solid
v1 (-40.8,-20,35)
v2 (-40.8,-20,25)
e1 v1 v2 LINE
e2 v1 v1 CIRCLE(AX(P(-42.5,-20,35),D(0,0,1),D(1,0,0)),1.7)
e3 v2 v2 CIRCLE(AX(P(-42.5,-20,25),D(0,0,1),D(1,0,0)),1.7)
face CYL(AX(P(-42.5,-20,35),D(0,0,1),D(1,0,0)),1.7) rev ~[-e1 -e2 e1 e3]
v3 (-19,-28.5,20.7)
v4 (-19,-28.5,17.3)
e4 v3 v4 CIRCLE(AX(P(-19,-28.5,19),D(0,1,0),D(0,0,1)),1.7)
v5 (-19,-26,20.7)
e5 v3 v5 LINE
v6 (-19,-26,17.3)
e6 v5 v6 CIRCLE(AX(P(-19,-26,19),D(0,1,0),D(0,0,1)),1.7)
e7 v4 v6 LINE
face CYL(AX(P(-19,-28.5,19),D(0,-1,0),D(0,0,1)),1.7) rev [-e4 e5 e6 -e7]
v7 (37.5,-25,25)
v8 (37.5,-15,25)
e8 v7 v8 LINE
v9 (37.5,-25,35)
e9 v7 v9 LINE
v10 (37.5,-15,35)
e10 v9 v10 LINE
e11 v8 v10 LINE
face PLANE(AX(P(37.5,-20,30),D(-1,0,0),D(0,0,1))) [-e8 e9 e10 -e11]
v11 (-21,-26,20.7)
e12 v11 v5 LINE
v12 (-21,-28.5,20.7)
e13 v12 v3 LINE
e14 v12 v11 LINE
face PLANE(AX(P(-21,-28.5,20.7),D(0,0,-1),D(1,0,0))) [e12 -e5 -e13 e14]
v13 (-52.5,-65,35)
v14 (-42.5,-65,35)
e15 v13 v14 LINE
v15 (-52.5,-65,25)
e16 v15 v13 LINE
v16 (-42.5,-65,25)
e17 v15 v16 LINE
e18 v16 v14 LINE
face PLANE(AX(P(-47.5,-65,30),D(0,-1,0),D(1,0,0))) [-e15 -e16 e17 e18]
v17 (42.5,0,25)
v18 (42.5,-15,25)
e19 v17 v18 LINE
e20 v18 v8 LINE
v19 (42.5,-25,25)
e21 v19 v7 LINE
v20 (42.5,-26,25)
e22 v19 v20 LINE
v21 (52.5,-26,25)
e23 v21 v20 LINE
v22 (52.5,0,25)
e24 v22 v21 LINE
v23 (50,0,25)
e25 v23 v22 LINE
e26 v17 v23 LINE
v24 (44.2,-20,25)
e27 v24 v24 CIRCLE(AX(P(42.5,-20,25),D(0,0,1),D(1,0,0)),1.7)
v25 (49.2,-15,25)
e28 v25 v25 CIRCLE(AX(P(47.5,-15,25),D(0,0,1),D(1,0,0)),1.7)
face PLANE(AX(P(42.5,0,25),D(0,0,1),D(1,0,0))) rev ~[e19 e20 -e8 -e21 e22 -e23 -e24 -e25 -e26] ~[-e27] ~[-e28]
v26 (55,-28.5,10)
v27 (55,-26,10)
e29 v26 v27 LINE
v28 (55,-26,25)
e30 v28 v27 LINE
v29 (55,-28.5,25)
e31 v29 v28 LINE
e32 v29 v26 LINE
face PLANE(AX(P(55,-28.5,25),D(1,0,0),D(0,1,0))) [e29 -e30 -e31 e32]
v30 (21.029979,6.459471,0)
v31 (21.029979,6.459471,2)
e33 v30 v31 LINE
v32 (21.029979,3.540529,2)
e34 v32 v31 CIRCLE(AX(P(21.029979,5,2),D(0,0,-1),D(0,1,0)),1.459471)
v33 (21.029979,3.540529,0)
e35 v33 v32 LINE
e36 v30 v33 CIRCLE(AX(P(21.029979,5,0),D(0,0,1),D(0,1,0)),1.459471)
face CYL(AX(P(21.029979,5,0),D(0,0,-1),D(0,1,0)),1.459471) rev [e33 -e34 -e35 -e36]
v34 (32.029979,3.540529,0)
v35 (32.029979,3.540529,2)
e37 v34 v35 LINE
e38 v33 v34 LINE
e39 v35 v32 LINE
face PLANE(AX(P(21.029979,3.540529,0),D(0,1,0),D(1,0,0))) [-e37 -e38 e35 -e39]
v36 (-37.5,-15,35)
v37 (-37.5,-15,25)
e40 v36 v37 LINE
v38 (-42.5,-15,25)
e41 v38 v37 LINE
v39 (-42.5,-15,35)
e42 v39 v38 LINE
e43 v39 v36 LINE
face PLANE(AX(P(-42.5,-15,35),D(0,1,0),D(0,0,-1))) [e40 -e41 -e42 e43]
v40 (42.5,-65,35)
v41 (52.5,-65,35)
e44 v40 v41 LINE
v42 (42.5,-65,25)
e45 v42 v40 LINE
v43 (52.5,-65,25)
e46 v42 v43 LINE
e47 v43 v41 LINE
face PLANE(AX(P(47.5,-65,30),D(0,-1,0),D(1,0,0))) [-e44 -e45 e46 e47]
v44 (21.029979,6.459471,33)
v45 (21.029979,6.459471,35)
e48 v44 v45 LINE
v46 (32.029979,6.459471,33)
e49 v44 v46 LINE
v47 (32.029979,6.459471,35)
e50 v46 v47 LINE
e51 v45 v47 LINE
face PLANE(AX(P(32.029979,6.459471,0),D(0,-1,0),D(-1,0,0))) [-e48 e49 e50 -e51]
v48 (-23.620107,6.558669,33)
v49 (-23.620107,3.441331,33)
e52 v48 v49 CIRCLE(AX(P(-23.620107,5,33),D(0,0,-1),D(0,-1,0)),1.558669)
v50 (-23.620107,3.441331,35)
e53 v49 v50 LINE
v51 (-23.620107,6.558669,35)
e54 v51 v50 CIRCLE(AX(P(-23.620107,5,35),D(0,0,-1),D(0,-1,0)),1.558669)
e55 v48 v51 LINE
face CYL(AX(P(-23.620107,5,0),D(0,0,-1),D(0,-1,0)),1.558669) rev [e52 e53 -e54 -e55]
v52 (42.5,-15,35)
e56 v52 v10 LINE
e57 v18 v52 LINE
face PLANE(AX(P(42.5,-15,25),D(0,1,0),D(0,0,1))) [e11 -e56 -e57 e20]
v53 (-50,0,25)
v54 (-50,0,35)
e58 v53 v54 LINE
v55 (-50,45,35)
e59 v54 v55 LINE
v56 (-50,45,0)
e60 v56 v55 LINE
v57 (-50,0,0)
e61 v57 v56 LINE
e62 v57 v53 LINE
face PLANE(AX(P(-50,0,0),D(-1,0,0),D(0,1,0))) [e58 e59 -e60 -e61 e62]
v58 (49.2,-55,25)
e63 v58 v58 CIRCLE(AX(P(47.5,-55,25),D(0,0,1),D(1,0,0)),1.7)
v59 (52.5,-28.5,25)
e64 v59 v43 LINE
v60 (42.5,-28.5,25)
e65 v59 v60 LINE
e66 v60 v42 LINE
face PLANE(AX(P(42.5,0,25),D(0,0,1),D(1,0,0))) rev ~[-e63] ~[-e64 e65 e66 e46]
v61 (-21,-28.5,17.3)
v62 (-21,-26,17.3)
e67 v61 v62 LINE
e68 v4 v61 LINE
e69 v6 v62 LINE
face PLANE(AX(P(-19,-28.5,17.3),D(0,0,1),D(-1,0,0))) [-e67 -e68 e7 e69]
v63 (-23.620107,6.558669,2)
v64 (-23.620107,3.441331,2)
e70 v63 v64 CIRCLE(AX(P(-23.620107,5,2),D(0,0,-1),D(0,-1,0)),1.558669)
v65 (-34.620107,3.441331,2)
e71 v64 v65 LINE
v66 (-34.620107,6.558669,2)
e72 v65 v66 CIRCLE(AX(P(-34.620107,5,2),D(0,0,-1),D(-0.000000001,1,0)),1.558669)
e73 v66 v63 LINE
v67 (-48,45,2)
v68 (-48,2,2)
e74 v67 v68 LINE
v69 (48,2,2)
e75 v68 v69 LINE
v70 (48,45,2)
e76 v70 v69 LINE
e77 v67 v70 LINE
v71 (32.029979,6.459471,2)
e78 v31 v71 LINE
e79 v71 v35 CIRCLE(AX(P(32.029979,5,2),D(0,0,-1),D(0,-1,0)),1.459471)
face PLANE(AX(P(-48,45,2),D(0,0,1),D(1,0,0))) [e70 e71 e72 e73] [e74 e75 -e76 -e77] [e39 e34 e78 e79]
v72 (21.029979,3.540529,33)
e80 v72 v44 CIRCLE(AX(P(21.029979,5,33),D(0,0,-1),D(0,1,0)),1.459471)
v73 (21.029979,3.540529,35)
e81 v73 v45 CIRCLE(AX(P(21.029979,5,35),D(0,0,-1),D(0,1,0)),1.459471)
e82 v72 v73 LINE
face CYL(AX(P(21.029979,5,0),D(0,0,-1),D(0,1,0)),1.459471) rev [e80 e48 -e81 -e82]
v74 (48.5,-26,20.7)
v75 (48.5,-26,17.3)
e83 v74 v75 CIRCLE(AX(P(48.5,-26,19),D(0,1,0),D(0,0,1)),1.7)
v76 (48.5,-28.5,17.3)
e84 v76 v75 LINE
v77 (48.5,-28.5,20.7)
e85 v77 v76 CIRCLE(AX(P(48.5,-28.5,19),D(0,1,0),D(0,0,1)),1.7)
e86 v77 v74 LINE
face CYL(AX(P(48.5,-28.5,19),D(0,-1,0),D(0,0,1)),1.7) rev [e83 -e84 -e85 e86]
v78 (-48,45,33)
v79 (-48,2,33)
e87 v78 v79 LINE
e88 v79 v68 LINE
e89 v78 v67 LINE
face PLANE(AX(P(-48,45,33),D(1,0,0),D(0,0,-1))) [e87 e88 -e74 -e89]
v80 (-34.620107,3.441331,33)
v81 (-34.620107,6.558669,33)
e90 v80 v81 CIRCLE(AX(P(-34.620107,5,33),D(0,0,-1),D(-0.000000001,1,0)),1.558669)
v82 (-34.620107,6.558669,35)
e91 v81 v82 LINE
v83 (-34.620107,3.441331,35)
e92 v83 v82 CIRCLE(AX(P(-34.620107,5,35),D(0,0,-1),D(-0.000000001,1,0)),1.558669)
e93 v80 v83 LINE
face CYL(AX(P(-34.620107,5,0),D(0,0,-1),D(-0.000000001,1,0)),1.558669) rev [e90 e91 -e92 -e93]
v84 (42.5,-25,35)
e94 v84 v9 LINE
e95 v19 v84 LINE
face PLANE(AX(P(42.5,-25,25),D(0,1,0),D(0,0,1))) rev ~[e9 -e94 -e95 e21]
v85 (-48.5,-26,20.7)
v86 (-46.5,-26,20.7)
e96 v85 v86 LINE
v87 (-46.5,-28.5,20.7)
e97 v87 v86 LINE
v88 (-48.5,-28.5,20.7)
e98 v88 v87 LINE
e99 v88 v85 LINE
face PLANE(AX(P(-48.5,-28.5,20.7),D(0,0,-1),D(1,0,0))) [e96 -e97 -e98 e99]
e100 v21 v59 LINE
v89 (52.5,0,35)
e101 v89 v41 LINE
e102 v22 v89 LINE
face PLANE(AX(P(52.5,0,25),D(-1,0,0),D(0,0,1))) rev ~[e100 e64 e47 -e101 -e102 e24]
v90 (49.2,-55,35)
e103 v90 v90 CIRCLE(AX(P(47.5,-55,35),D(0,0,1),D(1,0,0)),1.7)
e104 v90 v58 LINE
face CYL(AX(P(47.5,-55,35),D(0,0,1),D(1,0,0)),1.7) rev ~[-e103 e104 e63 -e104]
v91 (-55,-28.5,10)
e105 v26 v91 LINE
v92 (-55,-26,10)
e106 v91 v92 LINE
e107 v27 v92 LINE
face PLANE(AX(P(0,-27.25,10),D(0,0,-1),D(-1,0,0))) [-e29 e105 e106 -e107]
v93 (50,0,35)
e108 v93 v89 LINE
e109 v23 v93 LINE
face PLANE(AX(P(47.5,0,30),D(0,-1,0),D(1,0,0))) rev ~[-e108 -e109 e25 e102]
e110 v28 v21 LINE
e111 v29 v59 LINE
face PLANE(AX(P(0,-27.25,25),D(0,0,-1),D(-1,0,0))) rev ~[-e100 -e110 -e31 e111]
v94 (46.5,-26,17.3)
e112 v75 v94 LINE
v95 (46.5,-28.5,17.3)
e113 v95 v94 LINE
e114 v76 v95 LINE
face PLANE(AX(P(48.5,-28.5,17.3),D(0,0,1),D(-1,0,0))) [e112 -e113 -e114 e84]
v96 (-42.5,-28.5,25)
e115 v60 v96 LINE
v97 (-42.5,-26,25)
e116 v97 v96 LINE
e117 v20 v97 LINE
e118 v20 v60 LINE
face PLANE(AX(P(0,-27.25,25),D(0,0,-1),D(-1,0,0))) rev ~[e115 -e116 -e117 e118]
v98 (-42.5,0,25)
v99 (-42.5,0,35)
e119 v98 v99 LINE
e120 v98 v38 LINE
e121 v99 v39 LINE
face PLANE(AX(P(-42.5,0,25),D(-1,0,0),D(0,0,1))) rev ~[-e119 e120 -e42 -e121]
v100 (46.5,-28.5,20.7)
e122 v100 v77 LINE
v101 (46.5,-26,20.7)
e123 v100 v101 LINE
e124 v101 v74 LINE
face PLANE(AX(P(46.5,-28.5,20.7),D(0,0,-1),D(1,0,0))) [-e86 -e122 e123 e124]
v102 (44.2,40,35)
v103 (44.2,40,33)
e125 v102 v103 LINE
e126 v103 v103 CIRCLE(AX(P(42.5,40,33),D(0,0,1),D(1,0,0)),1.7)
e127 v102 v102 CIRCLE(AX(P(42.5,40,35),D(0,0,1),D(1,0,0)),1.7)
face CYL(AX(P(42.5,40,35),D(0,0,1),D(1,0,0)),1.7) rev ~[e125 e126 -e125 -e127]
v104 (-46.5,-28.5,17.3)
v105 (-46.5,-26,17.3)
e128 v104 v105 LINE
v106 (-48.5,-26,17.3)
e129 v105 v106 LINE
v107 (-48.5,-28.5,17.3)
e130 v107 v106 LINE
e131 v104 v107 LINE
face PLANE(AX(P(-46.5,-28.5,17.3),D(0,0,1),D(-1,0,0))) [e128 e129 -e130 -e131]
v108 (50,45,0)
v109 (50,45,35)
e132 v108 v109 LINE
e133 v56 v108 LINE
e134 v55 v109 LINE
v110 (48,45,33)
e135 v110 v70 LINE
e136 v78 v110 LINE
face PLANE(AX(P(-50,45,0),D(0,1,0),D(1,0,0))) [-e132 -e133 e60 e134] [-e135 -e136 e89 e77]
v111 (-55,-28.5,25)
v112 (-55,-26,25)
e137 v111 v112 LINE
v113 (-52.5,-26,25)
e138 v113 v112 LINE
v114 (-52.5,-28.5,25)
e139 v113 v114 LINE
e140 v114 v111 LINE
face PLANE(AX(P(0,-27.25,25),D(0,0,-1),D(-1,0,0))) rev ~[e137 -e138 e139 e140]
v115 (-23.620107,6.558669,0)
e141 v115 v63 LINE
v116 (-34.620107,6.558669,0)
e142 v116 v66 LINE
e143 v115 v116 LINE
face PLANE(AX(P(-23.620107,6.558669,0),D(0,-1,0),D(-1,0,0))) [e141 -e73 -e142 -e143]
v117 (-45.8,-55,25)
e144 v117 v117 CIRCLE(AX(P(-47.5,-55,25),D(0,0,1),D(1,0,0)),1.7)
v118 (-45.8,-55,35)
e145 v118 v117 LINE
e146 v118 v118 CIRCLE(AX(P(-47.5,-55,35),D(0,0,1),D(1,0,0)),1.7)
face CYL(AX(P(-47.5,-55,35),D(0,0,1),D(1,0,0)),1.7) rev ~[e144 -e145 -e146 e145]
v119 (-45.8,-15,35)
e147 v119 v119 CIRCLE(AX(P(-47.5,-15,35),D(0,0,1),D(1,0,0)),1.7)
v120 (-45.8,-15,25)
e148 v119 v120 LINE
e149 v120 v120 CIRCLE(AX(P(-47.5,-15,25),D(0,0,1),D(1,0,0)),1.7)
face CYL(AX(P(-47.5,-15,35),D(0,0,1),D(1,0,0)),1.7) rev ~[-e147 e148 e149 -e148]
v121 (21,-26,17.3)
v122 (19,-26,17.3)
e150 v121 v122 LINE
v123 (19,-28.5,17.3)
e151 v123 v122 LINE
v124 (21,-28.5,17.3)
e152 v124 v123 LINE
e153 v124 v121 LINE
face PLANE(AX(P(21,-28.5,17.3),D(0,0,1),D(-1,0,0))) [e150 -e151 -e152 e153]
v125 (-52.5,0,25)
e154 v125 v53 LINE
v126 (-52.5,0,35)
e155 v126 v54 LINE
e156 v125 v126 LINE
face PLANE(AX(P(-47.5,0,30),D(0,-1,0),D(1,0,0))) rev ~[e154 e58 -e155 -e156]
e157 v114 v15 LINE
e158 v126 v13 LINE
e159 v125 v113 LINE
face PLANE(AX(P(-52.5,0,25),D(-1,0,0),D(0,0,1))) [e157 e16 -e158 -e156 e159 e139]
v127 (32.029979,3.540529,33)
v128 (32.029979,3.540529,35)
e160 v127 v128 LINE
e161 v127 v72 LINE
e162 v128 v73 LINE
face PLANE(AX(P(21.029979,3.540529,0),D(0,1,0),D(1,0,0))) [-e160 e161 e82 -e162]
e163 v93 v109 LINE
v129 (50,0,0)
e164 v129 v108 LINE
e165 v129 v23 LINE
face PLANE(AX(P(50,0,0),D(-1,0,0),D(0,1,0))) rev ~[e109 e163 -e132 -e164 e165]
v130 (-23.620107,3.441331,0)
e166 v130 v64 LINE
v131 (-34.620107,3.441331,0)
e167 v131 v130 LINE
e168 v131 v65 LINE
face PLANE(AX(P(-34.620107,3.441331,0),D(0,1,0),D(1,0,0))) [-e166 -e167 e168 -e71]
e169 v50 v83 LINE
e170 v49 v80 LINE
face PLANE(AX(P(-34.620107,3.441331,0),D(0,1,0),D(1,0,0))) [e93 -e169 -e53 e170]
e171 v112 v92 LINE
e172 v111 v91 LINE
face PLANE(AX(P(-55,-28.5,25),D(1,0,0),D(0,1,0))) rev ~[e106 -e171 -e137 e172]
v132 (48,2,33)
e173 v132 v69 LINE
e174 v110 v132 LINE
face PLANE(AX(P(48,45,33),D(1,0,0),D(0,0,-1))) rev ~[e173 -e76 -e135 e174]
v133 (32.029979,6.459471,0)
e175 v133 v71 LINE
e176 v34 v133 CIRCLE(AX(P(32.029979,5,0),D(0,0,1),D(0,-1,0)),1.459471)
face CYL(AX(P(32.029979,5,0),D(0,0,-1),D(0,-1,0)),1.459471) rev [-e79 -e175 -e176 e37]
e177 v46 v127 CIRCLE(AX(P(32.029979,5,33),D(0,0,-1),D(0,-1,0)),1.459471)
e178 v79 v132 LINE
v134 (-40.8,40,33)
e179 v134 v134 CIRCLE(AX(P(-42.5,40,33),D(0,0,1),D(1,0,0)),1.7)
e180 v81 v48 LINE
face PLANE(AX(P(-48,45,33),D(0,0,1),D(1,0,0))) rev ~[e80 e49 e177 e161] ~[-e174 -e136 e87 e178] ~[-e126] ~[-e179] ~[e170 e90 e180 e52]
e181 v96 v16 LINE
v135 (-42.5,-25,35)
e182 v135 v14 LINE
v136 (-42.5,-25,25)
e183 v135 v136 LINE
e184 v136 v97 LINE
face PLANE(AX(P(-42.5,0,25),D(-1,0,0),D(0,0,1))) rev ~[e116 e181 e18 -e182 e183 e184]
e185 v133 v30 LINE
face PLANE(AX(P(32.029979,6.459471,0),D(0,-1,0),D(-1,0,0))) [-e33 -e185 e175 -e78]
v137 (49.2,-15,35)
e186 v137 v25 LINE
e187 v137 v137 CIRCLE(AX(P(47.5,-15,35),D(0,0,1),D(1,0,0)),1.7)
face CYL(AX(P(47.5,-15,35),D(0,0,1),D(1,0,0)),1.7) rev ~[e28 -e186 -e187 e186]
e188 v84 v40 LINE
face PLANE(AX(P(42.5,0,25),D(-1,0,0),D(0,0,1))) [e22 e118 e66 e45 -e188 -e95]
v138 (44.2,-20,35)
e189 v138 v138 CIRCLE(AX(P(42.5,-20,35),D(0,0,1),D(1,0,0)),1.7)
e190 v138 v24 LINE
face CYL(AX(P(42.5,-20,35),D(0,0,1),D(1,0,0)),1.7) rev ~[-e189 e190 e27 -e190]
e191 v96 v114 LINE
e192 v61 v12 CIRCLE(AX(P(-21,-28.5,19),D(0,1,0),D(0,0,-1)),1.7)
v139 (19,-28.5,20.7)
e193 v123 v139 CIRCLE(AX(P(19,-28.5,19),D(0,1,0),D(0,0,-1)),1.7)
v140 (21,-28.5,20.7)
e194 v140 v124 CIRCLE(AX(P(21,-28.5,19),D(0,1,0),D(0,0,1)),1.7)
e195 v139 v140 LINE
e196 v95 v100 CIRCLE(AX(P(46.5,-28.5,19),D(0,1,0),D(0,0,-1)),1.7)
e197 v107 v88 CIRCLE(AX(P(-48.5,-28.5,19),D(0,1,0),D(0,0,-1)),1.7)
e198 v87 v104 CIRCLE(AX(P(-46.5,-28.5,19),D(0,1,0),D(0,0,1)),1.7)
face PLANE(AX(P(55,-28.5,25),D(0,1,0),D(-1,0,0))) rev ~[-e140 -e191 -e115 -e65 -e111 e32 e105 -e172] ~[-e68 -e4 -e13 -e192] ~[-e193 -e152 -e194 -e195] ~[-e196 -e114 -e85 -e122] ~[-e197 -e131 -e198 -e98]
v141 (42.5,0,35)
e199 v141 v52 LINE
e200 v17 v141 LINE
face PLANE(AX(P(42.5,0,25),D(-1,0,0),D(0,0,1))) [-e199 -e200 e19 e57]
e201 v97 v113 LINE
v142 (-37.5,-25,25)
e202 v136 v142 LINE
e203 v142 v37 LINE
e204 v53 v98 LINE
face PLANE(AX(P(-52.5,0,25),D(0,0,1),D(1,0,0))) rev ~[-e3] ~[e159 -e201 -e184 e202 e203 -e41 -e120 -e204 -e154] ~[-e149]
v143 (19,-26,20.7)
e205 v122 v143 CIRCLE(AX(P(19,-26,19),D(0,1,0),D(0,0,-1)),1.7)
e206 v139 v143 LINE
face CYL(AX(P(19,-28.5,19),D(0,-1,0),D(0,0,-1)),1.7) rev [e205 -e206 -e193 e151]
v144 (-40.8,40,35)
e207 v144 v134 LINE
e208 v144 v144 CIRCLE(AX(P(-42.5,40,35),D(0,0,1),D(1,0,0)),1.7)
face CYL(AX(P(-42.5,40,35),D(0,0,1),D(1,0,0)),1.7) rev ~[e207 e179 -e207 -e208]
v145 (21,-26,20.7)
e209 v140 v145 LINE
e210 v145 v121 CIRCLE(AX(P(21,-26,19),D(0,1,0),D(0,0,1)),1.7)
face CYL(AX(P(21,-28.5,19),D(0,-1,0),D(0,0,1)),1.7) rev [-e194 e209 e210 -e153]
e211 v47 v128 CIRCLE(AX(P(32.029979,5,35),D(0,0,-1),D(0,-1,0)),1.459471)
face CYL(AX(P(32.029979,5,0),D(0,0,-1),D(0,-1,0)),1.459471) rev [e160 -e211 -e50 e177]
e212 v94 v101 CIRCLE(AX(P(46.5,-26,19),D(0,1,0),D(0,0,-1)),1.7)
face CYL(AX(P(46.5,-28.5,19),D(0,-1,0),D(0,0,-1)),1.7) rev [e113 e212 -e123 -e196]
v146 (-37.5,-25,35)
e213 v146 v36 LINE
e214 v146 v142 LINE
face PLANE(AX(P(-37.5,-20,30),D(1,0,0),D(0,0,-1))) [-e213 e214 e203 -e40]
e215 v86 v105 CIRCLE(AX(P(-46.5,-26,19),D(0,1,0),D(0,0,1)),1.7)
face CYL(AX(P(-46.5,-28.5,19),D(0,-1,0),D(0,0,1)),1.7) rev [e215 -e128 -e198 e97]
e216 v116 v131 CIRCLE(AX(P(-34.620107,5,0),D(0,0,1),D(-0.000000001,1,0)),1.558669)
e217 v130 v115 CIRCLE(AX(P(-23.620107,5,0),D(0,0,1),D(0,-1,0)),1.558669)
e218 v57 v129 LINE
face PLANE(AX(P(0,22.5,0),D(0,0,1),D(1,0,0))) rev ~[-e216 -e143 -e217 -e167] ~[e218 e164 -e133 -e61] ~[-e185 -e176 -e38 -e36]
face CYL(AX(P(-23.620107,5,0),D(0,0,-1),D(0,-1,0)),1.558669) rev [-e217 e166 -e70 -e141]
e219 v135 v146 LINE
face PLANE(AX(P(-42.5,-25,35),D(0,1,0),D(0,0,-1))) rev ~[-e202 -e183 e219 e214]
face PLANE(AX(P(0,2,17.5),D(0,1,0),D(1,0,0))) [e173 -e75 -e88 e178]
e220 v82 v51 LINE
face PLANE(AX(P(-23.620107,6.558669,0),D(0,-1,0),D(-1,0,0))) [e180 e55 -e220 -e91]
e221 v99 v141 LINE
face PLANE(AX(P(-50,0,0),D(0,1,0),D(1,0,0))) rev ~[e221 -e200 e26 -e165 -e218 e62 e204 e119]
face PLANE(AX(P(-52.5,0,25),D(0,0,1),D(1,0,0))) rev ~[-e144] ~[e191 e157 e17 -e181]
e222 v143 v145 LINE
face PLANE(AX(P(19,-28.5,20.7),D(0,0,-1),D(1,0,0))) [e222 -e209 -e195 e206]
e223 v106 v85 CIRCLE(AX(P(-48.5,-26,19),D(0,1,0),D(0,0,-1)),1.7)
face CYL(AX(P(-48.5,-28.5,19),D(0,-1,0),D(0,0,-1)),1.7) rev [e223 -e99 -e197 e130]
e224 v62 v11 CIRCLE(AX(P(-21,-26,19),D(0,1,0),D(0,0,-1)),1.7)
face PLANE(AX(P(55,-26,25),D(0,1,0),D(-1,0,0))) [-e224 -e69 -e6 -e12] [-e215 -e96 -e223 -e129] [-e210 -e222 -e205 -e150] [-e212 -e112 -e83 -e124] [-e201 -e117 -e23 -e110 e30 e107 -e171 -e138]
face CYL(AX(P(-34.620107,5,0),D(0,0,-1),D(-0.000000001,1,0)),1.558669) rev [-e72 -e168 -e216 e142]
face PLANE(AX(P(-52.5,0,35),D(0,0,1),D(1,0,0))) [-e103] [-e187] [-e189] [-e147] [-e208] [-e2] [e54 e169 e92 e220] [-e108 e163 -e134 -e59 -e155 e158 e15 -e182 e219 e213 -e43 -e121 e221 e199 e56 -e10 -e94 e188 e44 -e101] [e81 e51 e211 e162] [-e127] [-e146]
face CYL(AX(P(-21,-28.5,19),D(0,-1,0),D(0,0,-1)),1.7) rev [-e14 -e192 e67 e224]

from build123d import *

# Parameters (mm, degrees)
V3_BOX_FOOTPRINT_100_X_45_MM_W                 = 100
V3_BOX_FOOTPRINT_100_X_45_MM_H                 = 45
V3_BOX_HEIGHT_35_MM_DEPTH                      = 35
V3_REAR_OPENING_96_X_31_MM_W                   = 96
V3_REAR_OPENING_96_X_31_MM_H                   = 31
V3_CAVITY_ALL_WALLS_2_MM_DEPTH                 = 43
V3_SQUARE_BEAMS_10_X_10_PITCH_95_MM_W          = 10
V3_SQUARE_BEAMS_10_X_10_PITCH_95_MM_H          = 10
V3_FORWARD_BEAM_LENGTH_65_MM_DEPTH             = 65
V3_LEFT_PCB_EAR_PROFILE_W                      = 10
V3_LEFT_PCB_EAR_PROFILE_H                      = 10
V3_LEFT_INWARD_EAR_5_MM_DEPTH                  = 5
V3_RIGHT_PCB_EAR_PROFILE_W                     = 10
V3_RIGHT_PCB_EAR_PROFILE_H                     = 10
V3_RIGHT_INWARD_EAR_5_MM_DEPTH                 = 5
V3_PCB_ROOF_PAIR_PITCH_85_MM_R                 = 1.7
V3_M3_ROOF_HOLES_DIAMETER_3_4_MM_DEPTH         = 2
V3_PCB_FORWARD_PAIR_ROW_SPACING_60_MM_R        = 1.7
V3_M3_PCB_EAR_HOLES_DEPTH                      = 10
V3_CHASSIS_TOP_HOLES_WIDTH_95_DEPTH_40_M_R     = 1.7
V3_M3_BEAM_TOP_BOTTOM_HOLES_DEPTH              = 10
V3_HANGING_PLATE_OFFSET_26_THICKNESS_2_5_W     = 110
V3_HANGING_PLATE_OFFSET_26_THICKNESS_2_5_H     = 2.5
V3_MOUNTING_PLATE_DOWNWARD_15_MM_WIDTH_1_DEPTH = 15
FOUR_HORIZONTAL_SLOTS_3_4_X_5_4_MM_DEPTH       = 2.5
CUT_EXTRUDE_1_DEPTH                            = 93.059763198


with BuildPart() as part:
    # V3 box footprint 100 x 45 mm → V3 box height 35 mm (new body)
    with BuildSketch(Plane.XY):
        with Locations((0, 22.5)):
            Rectangle(V3_BOX_FOOTPRINT_100_X_45_MM_W, V3_BOX_FOOTPRINT_100_X_45_MM_H)
    extrude(amount=V3_BOX_HEIGHT_35_MM_DEPTH)

    # V3 rear opening 96 x 31 mm → V3 cavity all walls 2 mm (cut)
    with BuildSketch(Plane(origin=(0, 45, 0), x_dir=(1, 0, 0), z_dir=(0, 1, 0))):
        with Locations((0, -17.5)):
            Rectangle(V3_REAR_OPENING_96_X_31_MM_W, V3_REAR_OPENING_96_X_31_MM_H)
    extrude(amount=-V3_CAVITY_ALL_WALLS_2_MM_DEPTH, mode=Mode.SUBTRACT)

    # V3 square beams 10 x 10 pitch 95 mm → V3 forward beam length 65 mm (add)
    with BuildSketch(Plane.XZ):
        with Locations((-47.5, 30)):
            Rectangle(V3_SQUARE_BEAMS_10_X_10_PITCH_95_MM_W, V3_SQUARE_BEAMS_10_X_10_PITCH_95_MM_H)
        with Locations((47.5, 30)):
            Rectangle(V3_SQUARE_BEAMS_10_X_10_PITCH_95_MM_W, V3_SQUARE_BEAMS_10_X_10_PITCH_95_MM_H)
    extrude(amount=V3_FORWARD_BEAM_LENGTH_65_MM_DEPTH)

    # V3 left PCB ear profile → V3 left inward ear 5 mm (add)
    with BuildSketch(Plane(origin=(-42.5, 0, 0), x_dir=(0, 0, -1), z_dir=(1, 0, 0))):
        with Locations((-30, -20)):
            Rectangle(V3_LEFT_PCB_EAR_PROFILE_W, V3_LEFT_PCB_EAR_PROFILE_H)
    extrude(amount=V3_LEFT_INWARD_EAR_5_MM_DEPTH)

    # V3 right PCB ear profile → V3 right inward ear 5 mm (add)
    with BuildSketch(Plane.ZY.offset(-42.5)):
        with Locations((30, -20)):
            Rectangle(V3_RIGHT_PCB_EAR_PROFILE_W, V3_RIGHT_PCB_EAR_PROFILE_H)
    extrude(amount=V3_RIGHT_INWARD_EAR_5_MM_DEPTH)

    # V3 PCB roof pair pitch 85 mm → V3 M3 roof holes diameter 3.4 mm (cut)
    with BuildSketch(Plane.XY.offset(35)):
        with Locations((-42.5, 40)):
            Circle(V3_PCB_ROOF_PAIR_PITCH_85_MM_R)
        with Locations((42.5, 40)):
            Circle(V3_PCB_ROOF_PAIR_PITCH_85_MM_R)
    extrude(amount=-V3_M3_ROOF_HOLES_DIAMETER_3_4_MM_DEPTH, mode=Mode.SUBTRACT)

    # V3 PCB forward pair row spacing 60 mm → V3 M3 PCB ear holes (cut)
    with BuildSketch(Plane.XY.offset(35)):
        with Locations((-42.5, -20)):
            Circle(V3_PCB_FORWARD_PAIR_ROW_SPACING_60_MM_R)
        with Locations((42.5, -20)):
            Circle(V3_PCB_FORWARD_PAIR_ROW_SPACING_60_MM_R)
    extrude(amount=-V3_M3_PCB_EAR_HOLES_DEPTH, mode=Mode.SUBTRACT)

    # V3 chassis top holes width 95 depth 40 mm → V3 M3 beam top bottom holes (cut)
    with BuildSketch(Plane.XY.offset(35)):
        with Locations((-47.5, -55)):
            Circle(V3_CHASSIS_TOP_HOLES_WIDTH_95_DEPTH_40_M_R)
        with Locations((-47.5, -15)):
            Circle(V3_CHASSIS_TOP_HOLES_WIDTH_95_DEPTH_40_M_R)
        with Locations((47.5, -55)):
            Circle(V3_CHASSIS_TOP_HOLES_WIDTH_95_DEPTH_40_M_R)
        with Locations((47.5, -15)):
            Circle(V3_CHASSIS_TOP_HOLES_WIDTH_95_DEPTH_40_M_R)
    extrude(amount=-V3_M3_BEAM_TOP_BOTTOM_HOLES_DEPTH, mode=Mode.SUBTRACT)

    # V3 hanging plate offset 26 thickness 2.5 mm → V3 mounting plate downward 15 mm width 110 (add)
    with BuildSketch(Plane(origin=(0, 0, 25), x_dir=(-1, 0, 0), z_dir=(0, 0, -1))):
        with Locations((0, -27.25)):
            Rectangle(V3_HANGING_PLATE_OFFSET_26_THICKNESS_2_5_W, V3_HANGING_PLATE_OFFSET_26_THICKNESS_2_5_H)
    extrude(amount=V3_MOUNTING_PLATE_DOWNWARD_15_MM_WIDTH_1_DEPTH)

    # V3 slots 6 mm below beam underside centers 20 and 47.5 → Four horizontal slots 3.4 x 5.4 mm (cut)
    with BuildSketch(Plane.XZ.offset(28.5)):
        with BuildLine():
            Line((-48.5, 20.7), (-46.5, 20.7))
            ThreePointArc((-46.5, 20.7), (-44.8, 19), (-46.5, 17.3))
            Line((-46.5, 17.3), (-48.5, 17.3))
            ThreePointArc((-48.5, 17.3), (-50.2, 19), (-48.5, 20.7))
        make_face()
        with BuildLine():
            Line((-21, 20.7), (-19, 20.7))
            ThreePointArc((-19, 20.7), (-17.3, 19), (-19, 17.3))
            Line((-19, 17.3), (-21, 17.3))
            ThreePointArc((-21, 17.3), (-22.7, 19), (-21, 20.7))
        make_face()
        with BuildLine():
            Line((19, 20.7), (21, 20.7))
            ThreePointArc((21, 20.7), (22.7, 19), (21, 17.3))
            Line((21, 17.3), (19, 17.3))
            ThreePointArc((19, 17.3), (17.3, 19), (19, 20.7))
        make_face()
        with BuildLine():
            Line((46.5, 20.7), (48.5, 20.7))
            ThreePointArc((48.5, 20.7), (50.2, 19), (48.5, 17.3))
            Line((48.5, 17.3), (46.5, 17.3))
            ThreePointArc((46.5, 17.3), (44.8, 19), (46.5, 20.7))
        make_face()
    extrude(amount=-FOUR_HORIZONTAL_SLOTS_3_4_X_5_4_MM_DEPTH, mode=Mode.SUBTRACT)

    # 草图2 → 切除-拉伸1 (cut, through all)
    with BuildSketch(Plane(origin=(0, 0, 0), x_dir=(-1, 0, 0), z_dir=(0, 0, -1))):
        with BuildLine():
            Line((-32.029979042, 6.459471041), (-21.029979042, 6.459471041))
            ThreePointArc((-21.029979042, 6.459471041), (-19.570508001, 5), (-21.029979042, 3.540528959))
            Line((-21.029979042, 3.540528959), (-32.029979042, 3.540528959))
            ThreePointArc((-32.029979042, 3.540528959), (-33.489450083, 5), (-32.029979042, 6.459471041))
        make_face()
        with BuildLine():
            Line((23.620107008, 6.558669056), (34.620107008, 6.558669056))
            ThreePointArc((34.620107008, 6.558669056), (36.178776063, 5), (34.620107008, 3.441330944))
            Line((34.620107008, 3.441330944), (23.620107008, 3.441330944))
            ThreePointArc((23.620107008, 3.441330944), (22.061437952, 5), (23.620107008, 6.558669056))
        make_face()
    extrude(amount=-CUT_EXTRUDE_1_DEPTH, mode=Mode.SUBTRACT)


solid = part.part
